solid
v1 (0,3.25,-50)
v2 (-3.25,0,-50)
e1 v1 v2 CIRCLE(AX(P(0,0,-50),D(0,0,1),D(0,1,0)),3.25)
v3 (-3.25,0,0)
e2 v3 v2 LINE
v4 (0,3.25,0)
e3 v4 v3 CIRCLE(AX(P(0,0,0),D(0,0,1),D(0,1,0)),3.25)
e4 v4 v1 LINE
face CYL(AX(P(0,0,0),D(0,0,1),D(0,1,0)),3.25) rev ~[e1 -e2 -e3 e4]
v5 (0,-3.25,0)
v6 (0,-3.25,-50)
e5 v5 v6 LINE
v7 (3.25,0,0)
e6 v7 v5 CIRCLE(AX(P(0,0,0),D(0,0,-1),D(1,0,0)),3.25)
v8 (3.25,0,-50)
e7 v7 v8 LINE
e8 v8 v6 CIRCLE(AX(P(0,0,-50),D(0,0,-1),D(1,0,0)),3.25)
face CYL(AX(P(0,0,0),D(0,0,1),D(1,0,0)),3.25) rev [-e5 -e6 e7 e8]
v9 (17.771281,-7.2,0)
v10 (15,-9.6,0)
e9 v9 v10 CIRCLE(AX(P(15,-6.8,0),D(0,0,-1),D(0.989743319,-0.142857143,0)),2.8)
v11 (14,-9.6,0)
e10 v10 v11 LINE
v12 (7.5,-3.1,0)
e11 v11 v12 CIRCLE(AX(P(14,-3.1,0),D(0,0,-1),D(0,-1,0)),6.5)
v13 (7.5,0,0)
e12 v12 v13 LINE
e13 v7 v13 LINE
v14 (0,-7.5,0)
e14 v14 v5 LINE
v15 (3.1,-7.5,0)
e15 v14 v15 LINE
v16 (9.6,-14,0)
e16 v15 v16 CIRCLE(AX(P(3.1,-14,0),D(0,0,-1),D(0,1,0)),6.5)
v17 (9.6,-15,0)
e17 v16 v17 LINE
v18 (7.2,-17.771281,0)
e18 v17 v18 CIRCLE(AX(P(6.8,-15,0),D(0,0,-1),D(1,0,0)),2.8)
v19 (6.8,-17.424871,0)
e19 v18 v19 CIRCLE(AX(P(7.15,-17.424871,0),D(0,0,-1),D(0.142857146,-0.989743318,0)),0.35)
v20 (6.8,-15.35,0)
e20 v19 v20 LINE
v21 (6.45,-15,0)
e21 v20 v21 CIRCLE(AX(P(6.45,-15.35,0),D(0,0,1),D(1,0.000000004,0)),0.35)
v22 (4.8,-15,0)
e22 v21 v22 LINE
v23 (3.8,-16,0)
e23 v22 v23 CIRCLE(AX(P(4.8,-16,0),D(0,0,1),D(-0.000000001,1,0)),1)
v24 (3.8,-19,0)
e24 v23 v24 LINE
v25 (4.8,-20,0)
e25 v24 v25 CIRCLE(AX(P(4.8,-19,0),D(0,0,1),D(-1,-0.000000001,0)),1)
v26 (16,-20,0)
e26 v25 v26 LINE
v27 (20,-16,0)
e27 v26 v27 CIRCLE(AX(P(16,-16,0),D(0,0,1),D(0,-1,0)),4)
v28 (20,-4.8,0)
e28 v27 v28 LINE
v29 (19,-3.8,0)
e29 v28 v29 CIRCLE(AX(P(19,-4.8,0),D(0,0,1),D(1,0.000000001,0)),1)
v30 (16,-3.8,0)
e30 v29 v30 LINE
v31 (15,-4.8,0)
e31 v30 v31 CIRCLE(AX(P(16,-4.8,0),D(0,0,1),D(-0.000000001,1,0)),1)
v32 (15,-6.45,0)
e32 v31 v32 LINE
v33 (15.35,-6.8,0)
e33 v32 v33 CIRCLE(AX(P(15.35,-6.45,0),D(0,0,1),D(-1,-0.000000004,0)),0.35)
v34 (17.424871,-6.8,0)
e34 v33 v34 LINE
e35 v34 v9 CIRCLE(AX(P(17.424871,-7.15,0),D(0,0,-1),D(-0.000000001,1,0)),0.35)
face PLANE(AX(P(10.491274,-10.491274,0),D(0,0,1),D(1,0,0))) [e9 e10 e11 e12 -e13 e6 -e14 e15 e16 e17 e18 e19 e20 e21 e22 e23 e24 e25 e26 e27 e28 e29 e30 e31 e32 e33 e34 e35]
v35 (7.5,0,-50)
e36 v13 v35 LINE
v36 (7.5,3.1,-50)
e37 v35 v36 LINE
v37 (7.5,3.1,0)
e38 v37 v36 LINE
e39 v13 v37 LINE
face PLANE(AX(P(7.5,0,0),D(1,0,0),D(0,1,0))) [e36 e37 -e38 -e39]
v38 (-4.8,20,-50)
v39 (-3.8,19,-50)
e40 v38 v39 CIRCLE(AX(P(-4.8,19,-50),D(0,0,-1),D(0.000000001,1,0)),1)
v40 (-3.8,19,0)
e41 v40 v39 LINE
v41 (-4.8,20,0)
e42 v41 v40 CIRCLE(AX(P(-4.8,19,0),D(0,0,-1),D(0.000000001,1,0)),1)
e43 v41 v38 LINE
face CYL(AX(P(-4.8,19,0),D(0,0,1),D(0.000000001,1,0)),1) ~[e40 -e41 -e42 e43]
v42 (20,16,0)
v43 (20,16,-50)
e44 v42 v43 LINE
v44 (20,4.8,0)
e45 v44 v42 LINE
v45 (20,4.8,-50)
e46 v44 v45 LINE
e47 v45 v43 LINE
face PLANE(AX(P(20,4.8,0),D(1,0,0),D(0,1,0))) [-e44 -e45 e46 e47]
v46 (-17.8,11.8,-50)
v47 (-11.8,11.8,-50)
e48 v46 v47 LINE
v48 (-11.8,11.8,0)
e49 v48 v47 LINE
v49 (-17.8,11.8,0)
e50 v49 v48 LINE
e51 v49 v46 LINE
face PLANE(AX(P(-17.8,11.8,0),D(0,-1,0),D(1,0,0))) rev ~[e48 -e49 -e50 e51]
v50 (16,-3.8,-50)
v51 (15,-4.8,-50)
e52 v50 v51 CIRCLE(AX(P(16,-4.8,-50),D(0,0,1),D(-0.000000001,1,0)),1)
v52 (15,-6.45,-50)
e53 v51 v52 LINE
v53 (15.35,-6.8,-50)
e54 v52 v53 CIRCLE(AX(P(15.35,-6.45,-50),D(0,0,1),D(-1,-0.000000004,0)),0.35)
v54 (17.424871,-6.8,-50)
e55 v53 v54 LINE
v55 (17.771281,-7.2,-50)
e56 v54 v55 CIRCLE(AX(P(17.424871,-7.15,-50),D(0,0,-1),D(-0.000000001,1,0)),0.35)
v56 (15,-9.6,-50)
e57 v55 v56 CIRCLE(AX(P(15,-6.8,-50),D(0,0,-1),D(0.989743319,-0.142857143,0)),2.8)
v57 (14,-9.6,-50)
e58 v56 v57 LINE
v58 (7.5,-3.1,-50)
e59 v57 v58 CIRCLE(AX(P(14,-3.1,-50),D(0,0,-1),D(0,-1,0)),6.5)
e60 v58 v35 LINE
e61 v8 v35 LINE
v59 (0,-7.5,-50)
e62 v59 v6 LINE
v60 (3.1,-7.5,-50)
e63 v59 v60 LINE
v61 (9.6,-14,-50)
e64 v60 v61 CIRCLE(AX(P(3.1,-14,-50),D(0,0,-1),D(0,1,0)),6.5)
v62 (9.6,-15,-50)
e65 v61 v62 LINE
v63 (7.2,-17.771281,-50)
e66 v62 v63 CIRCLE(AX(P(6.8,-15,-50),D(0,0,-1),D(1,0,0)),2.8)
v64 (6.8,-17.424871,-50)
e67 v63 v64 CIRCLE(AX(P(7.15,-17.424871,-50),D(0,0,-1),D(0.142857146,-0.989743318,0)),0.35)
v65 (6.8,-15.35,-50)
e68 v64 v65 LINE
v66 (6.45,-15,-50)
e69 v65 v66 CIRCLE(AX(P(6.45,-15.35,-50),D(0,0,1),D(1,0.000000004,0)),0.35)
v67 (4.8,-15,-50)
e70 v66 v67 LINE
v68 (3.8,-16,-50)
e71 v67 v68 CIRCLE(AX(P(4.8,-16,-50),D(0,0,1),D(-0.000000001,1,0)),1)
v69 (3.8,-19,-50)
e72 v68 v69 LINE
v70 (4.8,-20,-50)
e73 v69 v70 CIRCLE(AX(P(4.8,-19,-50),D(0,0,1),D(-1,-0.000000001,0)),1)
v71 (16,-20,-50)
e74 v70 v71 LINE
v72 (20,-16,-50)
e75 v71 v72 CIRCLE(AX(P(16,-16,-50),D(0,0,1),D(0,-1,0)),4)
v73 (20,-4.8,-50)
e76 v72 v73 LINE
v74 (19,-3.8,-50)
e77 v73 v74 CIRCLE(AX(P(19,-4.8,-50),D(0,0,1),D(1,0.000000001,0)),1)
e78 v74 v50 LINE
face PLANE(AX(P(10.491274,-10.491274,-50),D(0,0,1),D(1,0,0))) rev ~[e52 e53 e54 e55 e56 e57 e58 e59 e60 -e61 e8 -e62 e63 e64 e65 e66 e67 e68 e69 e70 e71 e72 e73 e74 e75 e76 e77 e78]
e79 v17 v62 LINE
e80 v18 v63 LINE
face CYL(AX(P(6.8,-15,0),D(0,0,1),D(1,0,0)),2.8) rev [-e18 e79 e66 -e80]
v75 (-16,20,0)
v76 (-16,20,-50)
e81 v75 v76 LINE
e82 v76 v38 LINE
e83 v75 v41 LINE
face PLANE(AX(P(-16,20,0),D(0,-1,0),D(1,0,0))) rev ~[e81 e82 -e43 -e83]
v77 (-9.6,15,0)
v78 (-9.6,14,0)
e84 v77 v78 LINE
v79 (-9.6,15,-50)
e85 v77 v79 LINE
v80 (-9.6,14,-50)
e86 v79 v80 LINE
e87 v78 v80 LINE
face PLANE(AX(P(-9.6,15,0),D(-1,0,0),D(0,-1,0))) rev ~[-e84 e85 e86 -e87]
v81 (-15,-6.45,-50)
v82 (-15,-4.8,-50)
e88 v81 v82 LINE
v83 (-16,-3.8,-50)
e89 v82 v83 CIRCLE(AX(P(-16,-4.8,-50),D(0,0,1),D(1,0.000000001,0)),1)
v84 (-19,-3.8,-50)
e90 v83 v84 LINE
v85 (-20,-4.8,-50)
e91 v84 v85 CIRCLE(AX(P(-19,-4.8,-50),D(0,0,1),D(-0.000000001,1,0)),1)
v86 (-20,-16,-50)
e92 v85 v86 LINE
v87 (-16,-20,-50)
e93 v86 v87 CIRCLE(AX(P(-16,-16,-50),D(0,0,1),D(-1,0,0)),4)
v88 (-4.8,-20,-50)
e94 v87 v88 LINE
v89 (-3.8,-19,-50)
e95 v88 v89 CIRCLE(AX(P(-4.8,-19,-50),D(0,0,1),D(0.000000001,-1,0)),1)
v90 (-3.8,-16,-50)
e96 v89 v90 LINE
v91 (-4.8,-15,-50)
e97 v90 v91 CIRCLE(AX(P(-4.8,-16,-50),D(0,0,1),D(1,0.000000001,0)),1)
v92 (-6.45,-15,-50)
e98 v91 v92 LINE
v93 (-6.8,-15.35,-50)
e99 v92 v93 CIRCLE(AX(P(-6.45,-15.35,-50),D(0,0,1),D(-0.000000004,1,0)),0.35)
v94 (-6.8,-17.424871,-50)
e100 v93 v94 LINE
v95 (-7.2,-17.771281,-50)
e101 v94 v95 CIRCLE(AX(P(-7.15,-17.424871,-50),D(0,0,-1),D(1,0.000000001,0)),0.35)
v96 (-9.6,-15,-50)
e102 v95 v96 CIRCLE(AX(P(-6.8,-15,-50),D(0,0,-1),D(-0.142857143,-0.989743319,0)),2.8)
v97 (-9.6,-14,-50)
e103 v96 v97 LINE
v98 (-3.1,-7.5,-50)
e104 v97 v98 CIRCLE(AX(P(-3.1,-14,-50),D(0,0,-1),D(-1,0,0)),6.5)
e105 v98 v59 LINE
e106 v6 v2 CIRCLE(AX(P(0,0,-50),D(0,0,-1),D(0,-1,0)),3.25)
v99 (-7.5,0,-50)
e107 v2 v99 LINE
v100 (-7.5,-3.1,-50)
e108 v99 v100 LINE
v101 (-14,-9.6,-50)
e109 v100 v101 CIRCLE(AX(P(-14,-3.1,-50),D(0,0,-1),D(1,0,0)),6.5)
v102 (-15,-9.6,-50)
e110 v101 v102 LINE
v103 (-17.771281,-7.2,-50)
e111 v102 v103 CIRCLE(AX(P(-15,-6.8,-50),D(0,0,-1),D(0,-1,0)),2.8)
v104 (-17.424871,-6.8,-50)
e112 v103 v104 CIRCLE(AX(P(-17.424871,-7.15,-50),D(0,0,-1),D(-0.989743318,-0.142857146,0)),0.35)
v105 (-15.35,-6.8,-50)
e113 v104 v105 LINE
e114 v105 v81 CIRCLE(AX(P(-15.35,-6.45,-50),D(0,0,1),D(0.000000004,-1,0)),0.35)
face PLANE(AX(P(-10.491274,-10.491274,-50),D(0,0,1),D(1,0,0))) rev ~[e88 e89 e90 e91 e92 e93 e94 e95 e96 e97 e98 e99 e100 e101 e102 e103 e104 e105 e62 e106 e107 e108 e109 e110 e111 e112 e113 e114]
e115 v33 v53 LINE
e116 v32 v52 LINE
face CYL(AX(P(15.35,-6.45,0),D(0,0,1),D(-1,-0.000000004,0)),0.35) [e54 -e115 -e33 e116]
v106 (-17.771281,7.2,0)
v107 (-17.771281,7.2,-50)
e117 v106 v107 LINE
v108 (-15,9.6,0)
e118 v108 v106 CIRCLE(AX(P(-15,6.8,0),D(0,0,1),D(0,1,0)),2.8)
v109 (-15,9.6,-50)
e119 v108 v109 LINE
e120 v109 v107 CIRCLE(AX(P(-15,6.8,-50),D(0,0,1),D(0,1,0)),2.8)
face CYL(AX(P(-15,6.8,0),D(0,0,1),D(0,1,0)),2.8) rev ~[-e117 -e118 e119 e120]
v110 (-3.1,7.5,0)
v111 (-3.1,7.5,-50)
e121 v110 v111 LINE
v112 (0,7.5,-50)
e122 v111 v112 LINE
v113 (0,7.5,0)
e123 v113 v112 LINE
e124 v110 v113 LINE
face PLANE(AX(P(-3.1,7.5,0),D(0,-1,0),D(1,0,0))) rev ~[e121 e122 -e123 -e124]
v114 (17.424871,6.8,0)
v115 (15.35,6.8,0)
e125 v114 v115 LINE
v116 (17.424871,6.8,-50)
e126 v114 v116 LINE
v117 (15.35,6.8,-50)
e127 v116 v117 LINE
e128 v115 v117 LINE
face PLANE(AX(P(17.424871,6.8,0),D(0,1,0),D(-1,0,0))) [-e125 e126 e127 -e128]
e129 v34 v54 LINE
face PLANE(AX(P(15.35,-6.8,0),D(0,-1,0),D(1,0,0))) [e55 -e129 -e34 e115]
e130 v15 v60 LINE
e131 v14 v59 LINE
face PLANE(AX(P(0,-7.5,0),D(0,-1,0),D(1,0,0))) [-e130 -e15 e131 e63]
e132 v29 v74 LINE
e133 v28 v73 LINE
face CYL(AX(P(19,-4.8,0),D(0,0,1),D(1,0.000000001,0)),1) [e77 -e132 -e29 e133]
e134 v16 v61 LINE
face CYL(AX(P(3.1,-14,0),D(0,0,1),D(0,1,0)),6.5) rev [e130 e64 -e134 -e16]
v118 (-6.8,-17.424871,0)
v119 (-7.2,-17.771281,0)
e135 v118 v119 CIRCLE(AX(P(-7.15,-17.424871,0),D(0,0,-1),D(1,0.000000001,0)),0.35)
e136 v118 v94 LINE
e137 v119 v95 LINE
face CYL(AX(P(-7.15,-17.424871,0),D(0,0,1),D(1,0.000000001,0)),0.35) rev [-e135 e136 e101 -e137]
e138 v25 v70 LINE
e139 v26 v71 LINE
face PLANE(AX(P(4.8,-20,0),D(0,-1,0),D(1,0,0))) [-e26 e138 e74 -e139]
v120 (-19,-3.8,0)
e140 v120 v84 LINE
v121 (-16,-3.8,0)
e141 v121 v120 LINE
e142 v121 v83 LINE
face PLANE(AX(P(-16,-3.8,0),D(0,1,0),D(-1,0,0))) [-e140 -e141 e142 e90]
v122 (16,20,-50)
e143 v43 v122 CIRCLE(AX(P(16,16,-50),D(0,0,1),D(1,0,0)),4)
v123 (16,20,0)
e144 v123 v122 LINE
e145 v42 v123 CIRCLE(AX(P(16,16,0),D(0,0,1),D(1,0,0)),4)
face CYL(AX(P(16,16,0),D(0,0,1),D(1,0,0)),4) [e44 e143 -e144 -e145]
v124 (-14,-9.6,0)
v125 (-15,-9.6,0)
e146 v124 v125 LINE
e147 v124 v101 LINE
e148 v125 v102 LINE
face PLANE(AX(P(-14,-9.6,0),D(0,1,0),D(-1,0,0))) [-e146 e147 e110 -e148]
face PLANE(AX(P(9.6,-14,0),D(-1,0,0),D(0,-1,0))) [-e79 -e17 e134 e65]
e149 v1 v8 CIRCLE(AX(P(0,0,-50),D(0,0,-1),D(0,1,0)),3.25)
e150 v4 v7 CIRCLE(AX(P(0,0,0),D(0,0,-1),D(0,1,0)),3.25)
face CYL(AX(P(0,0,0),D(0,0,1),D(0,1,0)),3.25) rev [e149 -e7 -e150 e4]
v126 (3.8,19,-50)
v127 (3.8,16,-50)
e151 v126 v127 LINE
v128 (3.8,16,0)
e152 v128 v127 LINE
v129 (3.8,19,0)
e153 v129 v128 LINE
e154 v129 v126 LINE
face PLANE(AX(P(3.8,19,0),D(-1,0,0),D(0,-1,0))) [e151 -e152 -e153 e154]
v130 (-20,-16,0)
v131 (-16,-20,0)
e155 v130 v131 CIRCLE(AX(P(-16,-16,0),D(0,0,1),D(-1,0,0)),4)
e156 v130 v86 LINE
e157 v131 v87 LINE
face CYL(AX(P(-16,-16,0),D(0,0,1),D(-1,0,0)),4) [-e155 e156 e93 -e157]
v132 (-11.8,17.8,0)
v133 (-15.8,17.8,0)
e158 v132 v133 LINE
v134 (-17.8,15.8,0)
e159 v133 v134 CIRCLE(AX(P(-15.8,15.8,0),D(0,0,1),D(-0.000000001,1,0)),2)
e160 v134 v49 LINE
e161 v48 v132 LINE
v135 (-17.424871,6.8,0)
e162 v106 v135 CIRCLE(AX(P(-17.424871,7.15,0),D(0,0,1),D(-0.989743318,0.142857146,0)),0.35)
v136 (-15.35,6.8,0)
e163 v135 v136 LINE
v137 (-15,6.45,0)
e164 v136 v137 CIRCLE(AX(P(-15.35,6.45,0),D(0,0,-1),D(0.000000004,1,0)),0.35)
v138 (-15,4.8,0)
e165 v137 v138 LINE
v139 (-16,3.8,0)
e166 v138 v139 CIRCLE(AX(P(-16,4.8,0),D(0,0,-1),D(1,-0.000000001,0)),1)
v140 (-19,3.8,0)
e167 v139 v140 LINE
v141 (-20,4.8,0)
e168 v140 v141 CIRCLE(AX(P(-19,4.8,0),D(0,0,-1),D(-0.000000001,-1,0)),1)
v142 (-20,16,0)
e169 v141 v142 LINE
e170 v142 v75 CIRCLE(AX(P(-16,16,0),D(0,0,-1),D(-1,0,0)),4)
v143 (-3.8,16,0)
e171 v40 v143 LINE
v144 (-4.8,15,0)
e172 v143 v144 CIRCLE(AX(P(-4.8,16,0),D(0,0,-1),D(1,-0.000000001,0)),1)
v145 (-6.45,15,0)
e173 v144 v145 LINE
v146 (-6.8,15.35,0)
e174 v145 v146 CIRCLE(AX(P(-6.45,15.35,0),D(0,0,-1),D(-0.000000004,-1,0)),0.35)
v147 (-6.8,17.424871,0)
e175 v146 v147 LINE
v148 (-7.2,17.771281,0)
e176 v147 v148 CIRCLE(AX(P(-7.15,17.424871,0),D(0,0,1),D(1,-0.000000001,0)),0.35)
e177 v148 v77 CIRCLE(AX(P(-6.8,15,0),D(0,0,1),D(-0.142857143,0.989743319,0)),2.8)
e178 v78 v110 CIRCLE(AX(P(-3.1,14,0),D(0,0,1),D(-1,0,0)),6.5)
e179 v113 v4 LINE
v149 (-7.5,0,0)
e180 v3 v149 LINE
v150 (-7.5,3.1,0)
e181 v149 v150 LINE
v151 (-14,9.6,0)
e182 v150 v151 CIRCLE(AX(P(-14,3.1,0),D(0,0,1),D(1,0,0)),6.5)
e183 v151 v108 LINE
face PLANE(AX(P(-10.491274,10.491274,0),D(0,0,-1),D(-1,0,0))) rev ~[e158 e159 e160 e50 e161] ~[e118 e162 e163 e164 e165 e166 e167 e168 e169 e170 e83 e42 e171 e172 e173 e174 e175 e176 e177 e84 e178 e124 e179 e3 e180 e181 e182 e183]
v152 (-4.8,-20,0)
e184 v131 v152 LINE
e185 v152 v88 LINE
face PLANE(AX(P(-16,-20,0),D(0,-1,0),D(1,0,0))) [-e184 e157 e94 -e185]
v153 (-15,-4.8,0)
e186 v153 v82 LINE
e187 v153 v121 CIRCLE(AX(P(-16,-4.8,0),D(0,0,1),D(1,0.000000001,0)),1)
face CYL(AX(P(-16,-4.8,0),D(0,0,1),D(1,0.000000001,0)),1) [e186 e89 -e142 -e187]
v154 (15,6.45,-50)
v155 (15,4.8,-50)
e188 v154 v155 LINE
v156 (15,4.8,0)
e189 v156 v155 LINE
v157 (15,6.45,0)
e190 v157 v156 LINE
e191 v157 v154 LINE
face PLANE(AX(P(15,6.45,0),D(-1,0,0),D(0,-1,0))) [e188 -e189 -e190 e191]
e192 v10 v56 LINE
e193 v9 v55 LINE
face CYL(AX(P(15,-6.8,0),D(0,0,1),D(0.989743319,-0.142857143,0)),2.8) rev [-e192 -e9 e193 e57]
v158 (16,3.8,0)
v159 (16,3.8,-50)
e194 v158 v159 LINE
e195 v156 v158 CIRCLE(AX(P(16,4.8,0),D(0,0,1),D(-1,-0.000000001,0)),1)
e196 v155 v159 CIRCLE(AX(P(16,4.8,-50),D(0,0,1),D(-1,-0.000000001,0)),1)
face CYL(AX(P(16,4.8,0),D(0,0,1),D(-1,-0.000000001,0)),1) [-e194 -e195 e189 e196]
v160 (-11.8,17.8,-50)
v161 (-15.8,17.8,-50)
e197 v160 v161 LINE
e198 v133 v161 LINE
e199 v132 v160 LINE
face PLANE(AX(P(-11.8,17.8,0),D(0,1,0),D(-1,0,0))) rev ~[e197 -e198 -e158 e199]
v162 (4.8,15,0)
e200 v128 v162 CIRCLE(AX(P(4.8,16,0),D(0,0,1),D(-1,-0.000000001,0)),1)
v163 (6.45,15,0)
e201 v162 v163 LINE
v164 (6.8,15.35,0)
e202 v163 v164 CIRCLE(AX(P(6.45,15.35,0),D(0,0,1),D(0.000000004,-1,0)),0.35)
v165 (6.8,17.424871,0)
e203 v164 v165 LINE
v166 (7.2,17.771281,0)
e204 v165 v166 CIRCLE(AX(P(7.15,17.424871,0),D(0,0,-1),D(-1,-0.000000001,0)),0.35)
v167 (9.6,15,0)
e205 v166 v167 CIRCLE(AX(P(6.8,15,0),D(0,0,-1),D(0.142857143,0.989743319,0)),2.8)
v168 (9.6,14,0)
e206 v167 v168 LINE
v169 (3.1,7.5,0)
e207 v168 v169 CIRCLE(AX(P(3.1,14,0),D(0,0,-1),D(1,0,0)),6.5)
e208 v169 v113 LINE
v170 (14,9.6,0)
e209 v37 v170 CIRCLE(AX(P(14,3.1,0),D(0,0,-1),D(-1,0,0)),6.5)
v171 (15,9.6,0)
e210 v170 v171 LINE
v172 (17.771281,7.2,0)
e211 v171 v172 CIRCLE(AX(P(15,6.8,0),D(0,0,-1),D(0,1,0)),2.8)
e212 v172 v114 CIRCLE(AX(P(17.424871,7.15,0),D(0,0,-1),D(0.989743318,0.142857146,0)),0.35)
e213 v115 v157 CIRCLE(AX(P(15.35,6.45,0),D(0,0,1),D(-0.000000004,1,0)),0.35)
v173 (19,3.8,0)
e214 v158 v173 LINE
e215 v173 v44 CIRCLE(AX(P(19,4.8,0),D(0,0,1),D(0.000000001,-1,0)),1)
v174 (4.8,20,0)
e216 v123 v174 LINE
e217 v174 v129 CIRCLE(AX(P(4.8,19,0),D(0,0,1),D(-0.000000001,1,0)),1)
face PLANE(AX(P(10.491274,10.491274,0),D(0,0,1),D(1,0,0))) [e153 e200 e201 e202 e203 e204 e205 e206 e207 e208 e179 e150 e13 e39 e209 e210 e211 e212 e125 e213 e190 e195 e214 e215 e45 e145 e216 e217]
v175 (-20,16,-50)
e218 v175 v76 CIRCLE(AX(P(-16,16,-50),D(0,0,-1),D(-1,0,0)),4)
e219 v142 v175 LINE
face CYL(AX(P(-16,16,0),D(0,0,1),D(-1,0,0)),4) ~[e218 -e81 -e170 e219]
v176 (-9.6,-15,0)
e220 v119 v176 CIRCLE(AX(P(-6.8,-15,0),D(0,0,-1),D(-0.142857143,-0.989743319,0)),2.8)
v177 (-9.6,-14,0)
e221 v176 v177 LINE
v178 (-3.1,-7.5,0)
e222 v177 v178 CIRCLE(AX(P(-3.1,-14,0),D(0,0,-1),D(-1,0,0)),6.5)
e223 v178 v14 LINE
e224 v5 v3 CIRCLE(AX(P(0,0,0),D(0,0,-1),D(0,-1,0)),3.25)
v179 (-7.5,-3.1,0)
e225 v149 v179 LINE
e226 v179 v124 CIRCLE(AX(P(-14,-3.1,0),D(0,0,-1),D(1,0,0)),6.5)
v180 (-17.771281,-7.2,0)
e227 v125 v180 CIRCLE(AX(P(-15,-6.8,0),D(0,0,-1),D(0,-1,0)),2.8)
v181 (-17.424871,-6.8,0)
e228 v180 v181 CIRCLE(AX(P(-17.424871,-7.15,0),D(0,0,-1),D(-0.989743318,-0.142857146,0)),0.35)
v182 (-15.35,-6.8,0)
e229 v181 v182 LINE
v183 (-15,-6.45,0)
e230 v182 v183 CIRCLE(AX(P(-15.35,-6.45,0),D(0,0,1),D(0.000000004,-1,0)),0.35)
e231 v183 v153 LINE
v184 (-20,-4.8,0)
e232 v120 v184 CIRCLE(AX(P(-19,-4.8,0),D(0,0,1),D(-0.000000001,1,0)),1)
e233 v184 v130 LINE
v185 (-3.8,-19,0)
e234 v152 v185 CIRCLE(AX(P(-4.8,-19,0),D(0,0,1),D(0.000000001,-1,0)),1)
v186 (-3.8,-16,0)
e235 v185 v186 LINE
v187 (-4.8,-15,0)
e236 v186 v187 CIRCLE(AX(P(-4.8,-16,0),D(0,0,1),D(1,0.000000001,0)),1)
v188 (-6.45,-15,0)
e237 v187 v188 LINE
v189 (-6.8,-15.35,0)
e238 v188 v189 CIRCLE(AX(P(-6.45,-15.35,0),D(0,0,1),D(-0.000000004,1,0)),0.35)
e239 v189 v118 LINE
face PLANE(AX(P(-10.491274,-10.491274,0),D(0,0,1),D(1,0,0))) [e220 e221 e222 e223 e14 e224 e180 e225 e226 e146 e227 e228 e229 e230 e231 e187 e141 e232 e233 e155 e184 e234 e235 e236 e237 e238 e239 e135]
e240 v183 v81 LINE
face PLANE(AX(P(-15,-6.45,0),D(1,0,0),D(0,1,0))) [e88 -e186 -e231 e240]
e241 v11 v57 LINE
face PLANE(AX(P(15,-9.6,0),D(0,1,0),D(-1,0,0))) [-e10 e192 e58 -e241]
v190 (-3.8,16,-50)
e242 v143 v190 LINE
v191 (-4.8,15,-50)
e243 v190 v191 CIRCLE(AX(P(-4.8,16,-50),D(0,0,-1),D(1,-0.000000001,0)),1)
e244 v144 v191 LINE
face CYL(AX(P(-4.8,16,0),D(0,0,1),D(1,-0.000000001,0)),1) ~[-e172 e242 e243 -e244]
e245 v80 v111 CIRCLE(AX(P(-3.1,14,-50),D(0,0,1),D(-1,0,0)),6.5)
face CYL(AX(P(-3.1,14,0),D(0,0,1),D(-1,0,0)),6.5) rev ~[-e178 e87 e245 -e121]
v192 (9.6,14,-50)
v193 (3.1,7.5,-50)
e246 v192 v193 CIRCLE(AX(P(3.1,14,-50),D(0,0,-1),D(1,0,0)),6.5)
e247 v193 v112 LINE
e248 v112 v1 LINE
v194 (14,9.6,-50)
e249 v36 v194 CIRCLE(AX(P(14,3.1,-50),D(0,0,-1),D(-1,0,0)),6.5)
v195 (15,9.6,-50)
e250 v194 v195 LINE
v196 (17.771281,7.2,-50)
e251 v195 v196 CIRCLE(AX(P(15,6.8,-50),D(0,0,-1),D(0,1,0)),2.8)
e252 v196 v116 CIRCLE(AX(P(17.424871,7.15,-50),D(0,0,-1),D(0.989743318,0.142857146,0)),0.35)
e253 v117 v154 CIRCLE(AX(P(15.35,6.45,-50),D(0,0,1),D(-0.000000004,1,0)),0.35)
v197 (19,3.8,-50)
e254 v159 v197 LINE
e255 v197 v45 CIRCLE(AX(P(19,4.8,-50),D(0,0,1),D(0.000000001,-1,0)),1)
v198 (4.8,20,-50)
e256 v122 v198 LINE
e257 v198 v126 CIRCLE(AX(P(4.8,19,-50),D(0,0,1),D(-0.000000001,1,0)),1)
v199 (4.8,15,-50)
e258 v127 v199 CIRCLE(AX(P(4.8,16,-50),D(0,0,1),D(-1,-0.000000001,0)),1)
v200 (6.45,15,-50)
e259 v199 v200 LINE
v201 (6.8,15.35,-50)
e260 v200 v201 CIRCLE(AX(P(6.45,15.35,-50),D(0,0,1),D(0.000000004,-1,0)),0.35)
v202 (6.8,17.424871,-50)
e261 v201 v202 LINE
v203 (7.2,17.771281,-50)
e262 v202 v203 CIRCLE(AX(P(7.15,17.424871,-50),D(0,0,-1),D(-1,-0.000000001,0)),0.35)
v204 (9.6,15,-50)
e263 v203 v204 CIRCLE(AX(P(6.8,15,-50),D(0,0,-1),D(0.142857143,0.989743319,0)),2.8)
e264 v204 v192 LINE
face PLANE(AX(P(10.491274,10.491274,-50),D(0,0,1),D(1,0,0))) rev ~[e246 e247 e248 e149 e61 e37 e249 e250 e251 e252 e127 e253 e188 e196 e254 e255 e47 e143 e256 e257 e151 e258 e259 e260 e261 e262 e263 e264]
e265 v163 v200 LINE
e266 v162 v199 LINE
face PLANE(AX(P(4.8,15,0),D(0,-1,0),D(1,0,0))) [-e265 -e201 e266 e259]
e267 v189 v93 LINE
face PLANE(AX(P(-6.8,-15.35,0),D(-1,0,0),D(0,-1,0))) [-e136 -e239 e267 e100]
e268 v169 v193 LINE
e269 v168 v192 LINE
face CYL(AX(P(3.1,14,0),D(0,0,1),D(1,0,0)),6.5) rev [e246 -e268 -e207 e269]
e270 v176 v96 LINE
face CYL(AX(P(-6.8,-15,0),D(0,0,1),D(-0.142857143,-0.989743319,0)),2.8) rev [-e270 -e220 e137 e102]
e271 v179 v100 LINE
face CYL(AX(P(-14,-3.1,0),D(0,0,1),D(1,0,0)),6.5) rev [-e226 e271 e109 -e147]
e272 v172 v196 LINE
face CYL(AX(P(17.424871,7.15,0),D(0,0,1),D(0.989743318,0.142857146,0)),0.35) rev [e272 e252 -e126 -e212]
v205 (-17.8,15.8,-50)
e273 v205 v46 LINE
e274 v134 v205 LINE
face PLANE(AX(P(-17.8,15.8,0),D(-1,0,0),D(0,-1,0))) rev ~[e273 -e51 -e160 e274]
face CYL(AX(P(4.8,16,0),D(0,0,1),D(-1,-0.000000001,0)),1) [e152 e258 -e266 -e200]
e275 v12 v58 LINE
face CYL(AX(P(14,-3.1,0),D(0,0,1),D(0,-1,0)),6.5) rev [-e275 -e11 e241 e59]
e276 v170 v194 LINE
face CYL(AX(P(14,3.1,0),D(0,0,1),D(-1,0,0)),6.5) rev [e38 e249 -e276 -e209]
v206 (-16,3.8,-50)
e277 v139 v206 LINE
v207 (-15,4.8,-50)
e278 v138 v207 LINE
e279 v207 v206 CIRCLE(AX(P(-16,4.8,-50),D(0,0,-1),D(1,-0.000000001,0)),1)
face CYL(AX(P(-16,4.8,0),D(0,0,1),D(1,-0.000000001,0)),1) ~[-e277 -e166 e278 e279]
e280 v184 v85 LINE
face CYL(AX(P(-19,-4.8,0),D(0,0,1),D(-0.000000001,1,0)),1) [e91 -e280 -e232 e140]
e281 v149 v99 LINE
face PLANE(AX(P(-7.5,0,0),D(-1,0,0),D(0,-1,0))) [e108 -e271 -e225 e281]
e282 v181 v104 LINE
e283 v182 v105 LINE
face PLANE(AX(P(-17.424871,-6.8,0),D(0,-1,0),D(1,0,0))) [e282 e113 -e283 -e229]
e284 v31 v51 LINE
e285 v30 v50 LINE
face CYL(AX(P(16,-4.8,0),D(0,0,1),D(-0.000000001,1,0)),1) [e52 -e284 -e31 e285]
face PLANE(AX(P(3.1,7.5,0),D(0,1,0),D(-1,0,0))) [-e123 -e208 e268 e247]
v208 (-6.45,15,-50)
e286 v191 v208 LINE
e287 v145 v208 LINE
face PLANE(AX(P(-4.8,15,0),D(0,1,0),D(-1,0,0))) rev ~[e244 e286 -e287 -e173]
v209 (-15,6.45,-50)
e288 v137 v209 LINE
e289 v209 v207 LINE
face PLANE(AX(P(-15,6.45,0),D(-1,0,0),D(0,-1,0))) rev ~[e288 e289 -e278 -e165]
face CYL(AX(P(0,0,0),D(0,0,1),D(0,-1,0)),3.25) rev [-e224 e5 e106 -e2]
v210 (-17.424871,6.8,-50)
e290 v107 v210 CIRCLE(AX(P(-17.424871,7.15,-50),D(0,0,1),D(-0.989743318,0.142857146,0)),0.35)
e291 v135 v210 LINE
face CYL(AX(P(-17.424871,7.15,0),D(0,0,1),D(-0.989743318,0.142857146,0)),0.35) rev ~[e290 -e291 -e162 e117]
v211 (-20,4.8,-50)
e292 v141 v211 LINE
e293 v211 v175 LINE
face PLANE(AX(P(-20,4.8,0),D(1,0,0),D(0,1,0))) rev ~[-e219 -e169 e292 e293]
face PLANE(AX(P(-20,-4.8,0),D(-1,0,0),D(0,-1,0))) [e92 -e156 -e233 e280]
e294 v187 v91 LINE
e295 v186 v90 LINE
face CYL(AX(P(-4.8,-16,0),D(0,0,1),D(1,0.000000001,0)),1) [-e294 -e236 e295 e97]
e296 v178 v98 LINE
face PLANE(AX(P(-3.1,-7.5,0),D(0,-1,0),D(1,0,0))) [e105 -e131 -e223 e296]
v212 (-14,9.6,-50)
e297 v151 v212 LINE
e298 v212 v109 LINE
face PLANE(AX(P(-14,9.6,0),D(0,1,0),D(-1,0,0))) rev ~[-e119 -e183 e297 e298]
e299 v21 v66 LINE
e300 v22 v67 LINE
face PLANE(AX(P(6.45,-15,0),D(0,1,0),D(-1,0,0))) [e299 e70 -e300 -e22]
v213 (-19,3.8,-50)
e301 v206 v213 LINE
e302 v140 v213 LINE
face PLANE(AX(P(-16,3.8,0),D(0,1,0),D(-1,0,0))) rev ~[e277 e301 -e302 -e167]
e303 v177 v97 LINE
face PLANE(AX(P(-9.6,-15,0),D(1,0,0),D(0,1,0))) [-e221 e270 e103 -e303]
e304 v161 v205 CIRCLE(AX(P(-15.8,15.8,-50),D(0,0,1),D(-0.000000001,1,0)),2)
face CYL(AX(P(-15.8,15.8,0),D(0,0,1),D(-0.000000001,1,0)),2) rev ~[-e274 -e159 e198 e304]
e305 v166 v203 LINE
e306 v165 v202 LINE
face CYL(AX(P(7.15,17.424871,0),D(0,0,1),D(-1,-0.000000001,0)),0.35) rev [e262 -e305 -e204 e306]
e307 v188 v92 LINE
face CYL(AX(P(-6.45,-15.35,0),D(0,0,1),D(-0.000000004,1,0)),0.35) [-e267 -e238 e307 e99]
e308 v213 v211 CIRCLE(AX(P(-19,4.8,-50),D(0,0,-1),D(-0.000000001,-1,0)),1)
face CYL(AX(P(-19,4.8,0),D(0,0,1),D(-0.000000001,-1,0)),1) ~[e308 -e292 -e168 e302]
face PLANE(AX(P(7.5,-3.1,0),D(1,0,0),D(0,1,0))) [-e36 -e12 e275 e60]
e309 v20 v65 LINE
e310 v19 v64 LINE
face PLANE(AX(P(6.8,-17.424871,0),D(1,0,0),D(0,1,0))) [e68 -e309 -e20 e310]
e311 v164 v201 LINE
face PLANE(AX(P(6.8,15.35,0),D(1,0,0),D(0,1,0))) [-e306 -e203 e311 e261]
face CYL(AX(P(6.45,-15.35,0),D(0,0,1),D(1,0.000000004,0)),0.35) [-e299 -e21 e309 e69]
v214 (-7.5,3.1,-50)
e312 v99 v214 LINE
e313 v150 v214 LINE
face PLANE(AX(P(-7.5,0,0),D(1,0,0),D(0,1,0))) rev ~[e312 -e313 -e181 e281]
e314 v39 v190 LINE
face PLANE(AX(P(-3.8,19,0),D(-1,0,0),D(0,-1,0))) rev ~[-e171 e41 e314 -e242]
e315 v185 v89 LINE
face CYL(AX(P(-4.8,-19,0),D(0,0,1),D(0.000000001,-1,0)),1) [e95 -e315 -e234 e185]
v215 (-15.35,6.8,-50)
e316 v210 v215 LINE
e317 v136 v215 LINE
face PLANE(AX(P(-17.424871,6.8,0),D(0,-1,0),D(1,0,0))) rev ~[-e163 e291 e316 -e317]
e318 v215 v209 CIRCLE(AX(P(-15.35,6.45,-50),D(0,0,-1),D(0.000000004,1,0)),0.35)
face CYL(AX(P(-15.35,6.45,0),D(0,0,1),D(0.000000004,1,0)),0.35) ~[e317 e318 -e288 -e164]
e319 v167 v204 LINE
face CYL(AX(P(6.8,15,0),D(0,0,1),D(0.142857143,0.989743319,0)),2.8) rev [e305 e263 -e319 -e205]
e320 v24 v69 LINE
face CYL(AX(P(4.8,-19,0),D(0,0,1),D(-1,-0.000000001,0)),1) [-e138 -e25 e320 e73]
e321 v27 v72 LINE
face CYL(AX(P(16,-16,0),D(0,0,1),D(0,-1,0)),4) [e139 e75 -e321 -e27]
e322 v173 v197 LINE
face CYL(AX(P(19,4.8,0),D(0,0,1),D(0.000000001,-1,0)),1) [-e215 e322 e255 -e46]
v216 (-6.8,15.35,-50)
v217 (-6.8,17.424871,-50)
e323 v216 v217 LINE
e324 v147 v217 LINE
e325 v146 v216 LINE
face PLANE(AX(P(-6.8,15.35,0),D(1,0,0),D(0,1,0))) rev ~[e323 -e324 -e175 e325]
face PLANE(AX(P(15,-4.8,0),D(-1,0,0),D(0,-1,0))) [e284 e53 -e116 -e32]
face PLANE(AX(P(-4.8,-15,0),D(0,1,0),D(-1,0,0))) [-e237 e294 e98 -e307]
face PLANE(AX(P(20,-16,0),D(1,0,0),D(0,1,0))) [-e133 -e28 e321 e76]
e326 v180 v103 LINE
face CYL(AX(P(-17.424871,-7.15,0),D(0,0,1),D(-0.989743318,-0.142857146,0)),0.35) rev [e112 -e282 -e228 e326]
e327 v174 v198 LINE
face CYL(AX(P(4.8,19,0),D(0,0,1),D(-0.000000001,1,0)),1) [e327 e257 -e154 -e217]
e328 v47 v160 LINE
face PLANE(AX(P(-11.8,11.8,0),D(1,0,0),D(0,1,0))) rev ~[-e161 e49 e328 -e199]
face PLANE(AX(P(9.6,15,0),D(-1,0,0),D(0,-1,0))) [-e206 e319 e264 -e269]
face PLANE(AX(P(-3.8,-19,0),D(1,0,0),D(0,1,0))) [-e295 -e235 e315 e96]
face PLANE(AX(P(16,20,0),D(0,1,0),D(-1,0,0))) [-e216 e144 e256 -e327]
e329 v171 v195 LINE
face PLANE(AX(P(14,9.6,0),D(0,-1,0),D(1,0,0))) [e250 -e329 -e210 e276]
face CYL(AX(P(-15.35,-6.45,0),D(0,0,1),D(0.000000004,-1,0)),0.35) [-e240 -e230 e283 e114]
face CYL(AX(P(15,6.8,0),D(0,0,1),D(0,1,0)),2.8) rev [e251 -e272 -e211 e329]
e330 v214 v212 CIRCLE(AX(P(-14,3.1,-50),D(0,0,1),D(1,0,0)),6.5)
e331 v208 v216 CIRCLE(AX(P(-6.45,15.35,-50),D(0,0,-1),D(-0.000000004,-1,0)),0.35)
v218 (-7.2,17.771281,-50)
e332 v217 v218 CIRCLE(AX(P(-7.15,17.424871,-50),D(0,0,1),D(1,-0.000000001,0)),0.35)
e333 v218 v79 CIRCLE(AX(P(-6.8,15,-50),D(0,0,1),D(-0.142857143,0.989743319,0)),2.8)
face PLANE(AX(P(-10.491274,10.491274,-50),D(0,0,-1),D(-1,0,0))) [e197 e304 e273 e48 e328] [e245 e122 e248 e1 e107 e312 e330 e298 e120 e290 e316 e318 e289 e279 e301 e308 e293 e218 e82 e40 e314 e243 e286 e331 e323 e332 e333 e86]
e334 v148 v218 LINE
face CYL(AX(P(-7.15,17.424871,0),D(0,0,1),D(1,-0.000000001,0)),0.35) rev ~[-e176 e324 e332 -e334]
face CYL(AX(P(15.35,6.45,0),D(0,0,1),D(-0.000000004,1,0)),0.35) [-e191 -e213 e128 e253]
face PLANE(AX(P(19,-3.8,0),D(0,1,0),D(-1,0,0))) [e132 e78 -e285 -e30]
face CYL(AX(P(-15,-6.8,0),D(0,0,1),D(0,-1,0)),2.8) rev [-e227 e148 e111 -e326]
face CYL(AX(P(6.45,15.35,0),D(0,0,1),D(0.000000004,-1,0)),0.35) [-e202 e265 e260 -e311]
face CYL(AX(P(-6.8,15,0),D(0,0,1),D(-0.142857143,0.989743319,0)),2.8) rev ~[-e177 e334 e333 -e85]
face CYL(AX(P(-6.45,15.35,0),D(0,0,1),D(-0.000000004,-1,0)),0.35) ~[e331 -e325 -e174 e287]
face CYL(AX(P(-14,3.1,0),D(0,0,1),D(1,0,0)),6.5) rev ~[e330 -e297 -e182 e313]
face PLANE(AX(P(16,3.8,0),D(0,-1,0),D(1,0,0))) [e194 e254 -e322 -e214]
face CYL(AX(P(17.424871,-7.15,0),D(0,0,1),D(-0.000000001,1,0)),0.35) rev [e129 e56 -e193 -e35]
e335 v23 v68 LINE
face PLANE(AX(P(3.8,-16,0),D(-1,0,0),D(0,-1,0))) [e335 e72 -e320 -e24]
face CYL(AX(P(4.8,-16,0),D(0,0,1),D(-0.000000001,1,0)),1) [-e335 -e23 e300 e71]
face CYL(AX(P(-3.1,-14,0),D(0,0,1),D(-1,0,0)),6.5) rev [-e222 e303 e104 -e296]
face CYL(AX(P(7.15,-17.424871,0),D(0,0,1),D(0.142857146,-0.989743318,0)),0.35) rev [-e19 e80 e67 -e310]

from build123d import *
from build123d.topology import SkipClean

# Parameters (mm, degrees)
Y_KSEKLIK_EKSTR_ZYON1_DEPTH = 50


with BuildPart() as part:
    # Çizim1 → Yükseklik-Ekstrüzyon1 (new body)
    # profile 1 of 4: a face of its own
    with SkipClean():  # the faces are left unmerged after this step: merging them gives an invalid solid
        with BuildSketch(Plane.XY):
            with BuildLine():
                ThreePointArc((-20, 16), (-18.828427125, 18.828427125), (-16, 20))
                Line((-16, 20), (-4.8, 20))
                ThreePointArc((-4.8, 20), (-4.092893219, 19.707106781), (-3.8, 19))
                Line((-3.8, 19), (-3.8, 16))
                ThreePointArc((-3.8, 16), (-4.092893219, 15.292893219), (-4.8, 15))
                Line((-4.8, 15), (-6.45, 15))
                ThreePointArc((-6.45, 15), (-6.697487373, 15.102512627), (-6.8, 15.35))
                Line((-6.8, 15.35), (-6.8, 17.424871131))
                ThreePointArc((-6.8, 17.424871131), (-6.920871215, 17.689446262), (-7.2, 17.771281292))
                ThreePointArc((-7.2, 17.771281292), (-8.916601049, 16.833030278), (-9.6, 15))
                Line((-9.6, 15), (-9.6, 14))
                ThreePointArc((-9.6, 14), (-7.696194078, 9.403805922), (-3.1, 7.5))
                Line((-3.1, 7.5), (0, 7.5))
                Line((0, 7.5), (0, 3.25))
                ThreePointArc((0, 3.25), (-2.298097039, 2.298097039), (-3.25, 0))
                Line((-3.25, 0), (-7.5, 0))
                Line((-7.5, 0), (-7.5, 3.1))
                ThreePointArc((-7.5, 3.1), (-9.403805922, 7.696194078), (-14, 9.6))
                Line((-14, 9.6), (-15, 9.6))
                ThreePointArc((-15, 9.6), (-16.833030278, 8.916601049), (-17.771281292, 7.2))
                ThreePointArc((-17.771281292, 7.2), (-17.689446262, 6.920871215), (-17.424871131, 6.8))
                Line((-17.424871131, 6.8), (-15.35, 6.8))
                ThreePointArc((-15.35, 6.8), (-15.102512627, 6.697487373), (-15, 6.45))
                Line((-15, 6.45), (-15, 4.8))
                ThreePointArc((-15, 4.8), (-15.292893219, 4.092893219), (-16, 3.8))
                Line((-16, 3.8), (-19, 3.8))
                ThreePointArc((-19, 3.8), (-19.707106781, 4.092893219), (-20, 4.8))
                Line((-20, 4.8), (-20, 16))
            make_face()
            with BuildLine():
                ThreePointArc((-15.8, 17.8), (-17.214213562, 17.214213562), (-17.8, 15.8))
                Line((-17.8, 15.8), (-17.8, 11.8))
                Line((-17.8, 11.8), (-11.8, 11.8))
                Line((-11.8, 11.8), (-11.8, 17.8))
                Line((-11.8, 17.8), (-15.8, 17.8))
            make_face(mode=Mode.SUBTRACT)
        # profile 2 of 4: a face of its own
        with BuildSketch(Plane.XY):
            with BuildLine():
                Line((16, 3.8), (19, 3.8))
                ThreePointArc((19, 3.8), (19.707106781, 4.092893219), (20, 4.8))
                Line((20, 4.8), (20, 16))
                ThreePointArc((20, 16), (18.828427125, 18.828427125), (16, 20))
                Line((16, 20), (4.8, 20))
                ThreePointArc((4.8, 20), (4.092893219, 19.707106781), (3.8, 19))
                Line((3.8, 19), (3.8, 16))
                ThreePointArc((3.8, 16), (4.092893219, 15.292893219), (4.8, 15))
                Line((4.8, 15), (6.45, 15))
                ThreePointArc((6.45, 15), (6.697487373, 15.102512627), (6.8, 15.35))
                Line((6.8, 15.35), (6.8, 17.424871131))
                ThreePointArc((6.8, 17.424871131), (6.920871215, 17.689446262), (7.2, 17.771281292))
                ThreePointArc((7.2, 17.771281292), (8.916601049, 16.833030278), (9.6, 15))
                Line((9.6, 15), (9.6, 14))
                ThreePointArc((9.6, 14), (7.696194078, 9.403805922), (3.1, 7.5))
                Line((3.1, 7.5), (0, 7.5))
                Line((0, 7.5), (0, 3.25))
                ThreePointArc((0, 3.25), (2.298097039, 2.298097039), (3.25, 0))
                Line((3.25, 0), (7.5, 0))
                Line((7.5, 0), (7.5, 3.1))
                ThreePointArc((7.5, 3.1), (9.403805922, 7.696194078), (14, 9.6))
                Line((14, 9.6), (15, 9.6))
                ThreePointArc((15, 9.6), (16.833030278, 8.916601049), (17.771281292, 7.2))
                ThreePointArc((17.771281292, 7.2), (17.689446262, 6.920871215), (17.424871131, 6.8))
                Line((17.424871131, 6.8), (15.35, 6.8))
                ThreePointArc((15.35, 6.8), (15.102512627, 6.697487373), (15, 6.45))
                Line((15, 6.45), (15, 4.8))
                ThreePointArc((15, 4.8), (15.292893219, 4.092893219), (16, 3.8))
            make_face()
        # profile 3 of 4: a face of its own
        with BuildSketch(Plane.XY):
            with BuildLine():
                Line((3.8, -16), (3.8, -19))
                ThreePointArc((3.8, -19), (4.092893219, -19.707106781), (4.8, -20))
                Line((4.8, -20), (16, -20))
                ThreePointArc((16, -20), (18.828427125, -18.828427125), (20, -16))
                Line((20, -16), (20, -4.8))
                ThreePointArc((20, -4.8), (19.707106781, -4.092893219), (19, -3.8))
                Line((19, -3.8), (16, -3.8))
                ThreePointArc((16, -3.8), (15.292893219, -4.092893219), (15, -4.8))
                Line((15, -4.8), (15, -6.45))
                ThreePointArc((15, -6.45), (15.102512627, -6.697487373), (15.35, -6.8))
                Line((15.35, -6.8), (17.424871131, -6.8))
                ThreePointArc((17.424871131, -6.8), (17.689446262, -6.920871215), (17.771281292, -7.2))
                ThreePointArc((17.771281292, -7.2), (16.833030278, -8.916601049), (15, -9.6))
                Line((15, -9.6), (14, -9.6))
                ThreePointArc((14, -9.6), (9.403805922, -7.696194078), (7.5, -3.1))
                Line((7.5, -3.1), (7.5, 0))
                Line((7.5, 0), (3.25, 0))
                ThreePointArc((3.25, 0), (2.298097039, -2.298097039), (0, -3.25))
                Line((0, -3.25), (0, -7.5))
                Line((0, -7.5), (3.1, -7.5))
                ThreePointArc((3.1, -7.5), (7.696194078, -9.403805922), (9.6, -14))
                Line((9.6, -14), (9.6, -15))
                ThreePointArc((9.6, -15), (8.916601049, -16.833030278), (7.2, -17.771281292))
                ThreePointArc((7.2, -17.771281292), (6.920871215, -17.689446262), (6.8, -17.424871131))
                Line((6.8, -17.424871131), (6.8, -15.35))
                ThreePointArc((6.8, -15.35), (6.697487373, -15.102512627), (6.45, -15))
                Line((6.45, -15), (4.8, -15))
                ThreePointArc((4.8, -15), (4.092893219, -15.292893219), (3.8, -16))
            make_face()
        # profile 4 of 4: a face of its own
        with BuildSketch(Plane.XY):
            with BuildLine():
                Line((-16, -3.8), (-19, -3.8))
                ThreePointArc((-19, -3.8), (-19.707106781, -4.092893219), (-20, -4.8))
                Line((-20, -4.8), (-20, -16))
                ThreePointArc((-20, -16), (-18.828427125, -18.828427125), (-16, -20))
                Line((-16, -20), (-4.8, -20))
                ThreePointArc((-4.8, -20), (-4.092893219, -19.707106781), (-3.8, -19))
                Line((-3.8, -19), (-3.8, -16))
                ThreePointArc((-3.8, -16), (-4.092893219, -15.292893219), (-4.8, -15))
                Line((-4.8, -15), (-6.45, -15))
                ThreePointArc((-6.45, -15), (-6.697487373, -15.102512627), (-6.8, -15.35))
                Line((-6.8, -15.35), (-6.8, -17.424871131))
                ThreePointArc((-6.8, -17.424871131), (-6.920871215, -17.689446262), (-7.2, -17.771281292))
                ThreePointArc((-7.2, -17.771281292), (-8.916601049, -16.833030278), (-9.6, -15))
                Line((-9.6, -15), (-9.6, -14))
                ThreePointArc((-9.6, -14), (-7.696194078, -9.403805922), (-3.1, -7.5))
                Line((-3.1, -7.5), (0, -7.5))
                Line((0, -7.5), (0, -3.25))
                ThreePointArc((0, -3.25), (-2.298097039, -2.298097039), (-3.25, 0))
                Line((-3.25, 0), (-7.5, 0))
                Line((-7.5, 0), (-7.5, -3.1))
                ThreePointArc((-7.5, -3.1), (-9.403805922, -7.696194078), (-14, -9.6))
                Line((-14, -9.6), (-15, -9.6))
                ThreePointArc((-15, -9.6), (-16.833030278, -8.916601049), (-17.771281292, -7.2))
                ThreePointArc((-17.771281292, -7.2), (-17.689446262, -6.920871215), (-17.424871131, -6.8))
                Line((-17.424871131, -6.8), (-15.35, -6.8))
                ThreePointArc((-15.35, -6.8), (-15.102512627, -6.697487373), (-15, -6.45))
                Line((-15, -6.45), (-15, -4.8))
                ThreePointArc((-15, -4.8), (-15.292893219, -4.092893219), (-16, -3.8))
            make_face()
        extrude(amount=-Y_KSEKLIK_EKSTR_ZYON1_DEPTH)


solid = part.part
